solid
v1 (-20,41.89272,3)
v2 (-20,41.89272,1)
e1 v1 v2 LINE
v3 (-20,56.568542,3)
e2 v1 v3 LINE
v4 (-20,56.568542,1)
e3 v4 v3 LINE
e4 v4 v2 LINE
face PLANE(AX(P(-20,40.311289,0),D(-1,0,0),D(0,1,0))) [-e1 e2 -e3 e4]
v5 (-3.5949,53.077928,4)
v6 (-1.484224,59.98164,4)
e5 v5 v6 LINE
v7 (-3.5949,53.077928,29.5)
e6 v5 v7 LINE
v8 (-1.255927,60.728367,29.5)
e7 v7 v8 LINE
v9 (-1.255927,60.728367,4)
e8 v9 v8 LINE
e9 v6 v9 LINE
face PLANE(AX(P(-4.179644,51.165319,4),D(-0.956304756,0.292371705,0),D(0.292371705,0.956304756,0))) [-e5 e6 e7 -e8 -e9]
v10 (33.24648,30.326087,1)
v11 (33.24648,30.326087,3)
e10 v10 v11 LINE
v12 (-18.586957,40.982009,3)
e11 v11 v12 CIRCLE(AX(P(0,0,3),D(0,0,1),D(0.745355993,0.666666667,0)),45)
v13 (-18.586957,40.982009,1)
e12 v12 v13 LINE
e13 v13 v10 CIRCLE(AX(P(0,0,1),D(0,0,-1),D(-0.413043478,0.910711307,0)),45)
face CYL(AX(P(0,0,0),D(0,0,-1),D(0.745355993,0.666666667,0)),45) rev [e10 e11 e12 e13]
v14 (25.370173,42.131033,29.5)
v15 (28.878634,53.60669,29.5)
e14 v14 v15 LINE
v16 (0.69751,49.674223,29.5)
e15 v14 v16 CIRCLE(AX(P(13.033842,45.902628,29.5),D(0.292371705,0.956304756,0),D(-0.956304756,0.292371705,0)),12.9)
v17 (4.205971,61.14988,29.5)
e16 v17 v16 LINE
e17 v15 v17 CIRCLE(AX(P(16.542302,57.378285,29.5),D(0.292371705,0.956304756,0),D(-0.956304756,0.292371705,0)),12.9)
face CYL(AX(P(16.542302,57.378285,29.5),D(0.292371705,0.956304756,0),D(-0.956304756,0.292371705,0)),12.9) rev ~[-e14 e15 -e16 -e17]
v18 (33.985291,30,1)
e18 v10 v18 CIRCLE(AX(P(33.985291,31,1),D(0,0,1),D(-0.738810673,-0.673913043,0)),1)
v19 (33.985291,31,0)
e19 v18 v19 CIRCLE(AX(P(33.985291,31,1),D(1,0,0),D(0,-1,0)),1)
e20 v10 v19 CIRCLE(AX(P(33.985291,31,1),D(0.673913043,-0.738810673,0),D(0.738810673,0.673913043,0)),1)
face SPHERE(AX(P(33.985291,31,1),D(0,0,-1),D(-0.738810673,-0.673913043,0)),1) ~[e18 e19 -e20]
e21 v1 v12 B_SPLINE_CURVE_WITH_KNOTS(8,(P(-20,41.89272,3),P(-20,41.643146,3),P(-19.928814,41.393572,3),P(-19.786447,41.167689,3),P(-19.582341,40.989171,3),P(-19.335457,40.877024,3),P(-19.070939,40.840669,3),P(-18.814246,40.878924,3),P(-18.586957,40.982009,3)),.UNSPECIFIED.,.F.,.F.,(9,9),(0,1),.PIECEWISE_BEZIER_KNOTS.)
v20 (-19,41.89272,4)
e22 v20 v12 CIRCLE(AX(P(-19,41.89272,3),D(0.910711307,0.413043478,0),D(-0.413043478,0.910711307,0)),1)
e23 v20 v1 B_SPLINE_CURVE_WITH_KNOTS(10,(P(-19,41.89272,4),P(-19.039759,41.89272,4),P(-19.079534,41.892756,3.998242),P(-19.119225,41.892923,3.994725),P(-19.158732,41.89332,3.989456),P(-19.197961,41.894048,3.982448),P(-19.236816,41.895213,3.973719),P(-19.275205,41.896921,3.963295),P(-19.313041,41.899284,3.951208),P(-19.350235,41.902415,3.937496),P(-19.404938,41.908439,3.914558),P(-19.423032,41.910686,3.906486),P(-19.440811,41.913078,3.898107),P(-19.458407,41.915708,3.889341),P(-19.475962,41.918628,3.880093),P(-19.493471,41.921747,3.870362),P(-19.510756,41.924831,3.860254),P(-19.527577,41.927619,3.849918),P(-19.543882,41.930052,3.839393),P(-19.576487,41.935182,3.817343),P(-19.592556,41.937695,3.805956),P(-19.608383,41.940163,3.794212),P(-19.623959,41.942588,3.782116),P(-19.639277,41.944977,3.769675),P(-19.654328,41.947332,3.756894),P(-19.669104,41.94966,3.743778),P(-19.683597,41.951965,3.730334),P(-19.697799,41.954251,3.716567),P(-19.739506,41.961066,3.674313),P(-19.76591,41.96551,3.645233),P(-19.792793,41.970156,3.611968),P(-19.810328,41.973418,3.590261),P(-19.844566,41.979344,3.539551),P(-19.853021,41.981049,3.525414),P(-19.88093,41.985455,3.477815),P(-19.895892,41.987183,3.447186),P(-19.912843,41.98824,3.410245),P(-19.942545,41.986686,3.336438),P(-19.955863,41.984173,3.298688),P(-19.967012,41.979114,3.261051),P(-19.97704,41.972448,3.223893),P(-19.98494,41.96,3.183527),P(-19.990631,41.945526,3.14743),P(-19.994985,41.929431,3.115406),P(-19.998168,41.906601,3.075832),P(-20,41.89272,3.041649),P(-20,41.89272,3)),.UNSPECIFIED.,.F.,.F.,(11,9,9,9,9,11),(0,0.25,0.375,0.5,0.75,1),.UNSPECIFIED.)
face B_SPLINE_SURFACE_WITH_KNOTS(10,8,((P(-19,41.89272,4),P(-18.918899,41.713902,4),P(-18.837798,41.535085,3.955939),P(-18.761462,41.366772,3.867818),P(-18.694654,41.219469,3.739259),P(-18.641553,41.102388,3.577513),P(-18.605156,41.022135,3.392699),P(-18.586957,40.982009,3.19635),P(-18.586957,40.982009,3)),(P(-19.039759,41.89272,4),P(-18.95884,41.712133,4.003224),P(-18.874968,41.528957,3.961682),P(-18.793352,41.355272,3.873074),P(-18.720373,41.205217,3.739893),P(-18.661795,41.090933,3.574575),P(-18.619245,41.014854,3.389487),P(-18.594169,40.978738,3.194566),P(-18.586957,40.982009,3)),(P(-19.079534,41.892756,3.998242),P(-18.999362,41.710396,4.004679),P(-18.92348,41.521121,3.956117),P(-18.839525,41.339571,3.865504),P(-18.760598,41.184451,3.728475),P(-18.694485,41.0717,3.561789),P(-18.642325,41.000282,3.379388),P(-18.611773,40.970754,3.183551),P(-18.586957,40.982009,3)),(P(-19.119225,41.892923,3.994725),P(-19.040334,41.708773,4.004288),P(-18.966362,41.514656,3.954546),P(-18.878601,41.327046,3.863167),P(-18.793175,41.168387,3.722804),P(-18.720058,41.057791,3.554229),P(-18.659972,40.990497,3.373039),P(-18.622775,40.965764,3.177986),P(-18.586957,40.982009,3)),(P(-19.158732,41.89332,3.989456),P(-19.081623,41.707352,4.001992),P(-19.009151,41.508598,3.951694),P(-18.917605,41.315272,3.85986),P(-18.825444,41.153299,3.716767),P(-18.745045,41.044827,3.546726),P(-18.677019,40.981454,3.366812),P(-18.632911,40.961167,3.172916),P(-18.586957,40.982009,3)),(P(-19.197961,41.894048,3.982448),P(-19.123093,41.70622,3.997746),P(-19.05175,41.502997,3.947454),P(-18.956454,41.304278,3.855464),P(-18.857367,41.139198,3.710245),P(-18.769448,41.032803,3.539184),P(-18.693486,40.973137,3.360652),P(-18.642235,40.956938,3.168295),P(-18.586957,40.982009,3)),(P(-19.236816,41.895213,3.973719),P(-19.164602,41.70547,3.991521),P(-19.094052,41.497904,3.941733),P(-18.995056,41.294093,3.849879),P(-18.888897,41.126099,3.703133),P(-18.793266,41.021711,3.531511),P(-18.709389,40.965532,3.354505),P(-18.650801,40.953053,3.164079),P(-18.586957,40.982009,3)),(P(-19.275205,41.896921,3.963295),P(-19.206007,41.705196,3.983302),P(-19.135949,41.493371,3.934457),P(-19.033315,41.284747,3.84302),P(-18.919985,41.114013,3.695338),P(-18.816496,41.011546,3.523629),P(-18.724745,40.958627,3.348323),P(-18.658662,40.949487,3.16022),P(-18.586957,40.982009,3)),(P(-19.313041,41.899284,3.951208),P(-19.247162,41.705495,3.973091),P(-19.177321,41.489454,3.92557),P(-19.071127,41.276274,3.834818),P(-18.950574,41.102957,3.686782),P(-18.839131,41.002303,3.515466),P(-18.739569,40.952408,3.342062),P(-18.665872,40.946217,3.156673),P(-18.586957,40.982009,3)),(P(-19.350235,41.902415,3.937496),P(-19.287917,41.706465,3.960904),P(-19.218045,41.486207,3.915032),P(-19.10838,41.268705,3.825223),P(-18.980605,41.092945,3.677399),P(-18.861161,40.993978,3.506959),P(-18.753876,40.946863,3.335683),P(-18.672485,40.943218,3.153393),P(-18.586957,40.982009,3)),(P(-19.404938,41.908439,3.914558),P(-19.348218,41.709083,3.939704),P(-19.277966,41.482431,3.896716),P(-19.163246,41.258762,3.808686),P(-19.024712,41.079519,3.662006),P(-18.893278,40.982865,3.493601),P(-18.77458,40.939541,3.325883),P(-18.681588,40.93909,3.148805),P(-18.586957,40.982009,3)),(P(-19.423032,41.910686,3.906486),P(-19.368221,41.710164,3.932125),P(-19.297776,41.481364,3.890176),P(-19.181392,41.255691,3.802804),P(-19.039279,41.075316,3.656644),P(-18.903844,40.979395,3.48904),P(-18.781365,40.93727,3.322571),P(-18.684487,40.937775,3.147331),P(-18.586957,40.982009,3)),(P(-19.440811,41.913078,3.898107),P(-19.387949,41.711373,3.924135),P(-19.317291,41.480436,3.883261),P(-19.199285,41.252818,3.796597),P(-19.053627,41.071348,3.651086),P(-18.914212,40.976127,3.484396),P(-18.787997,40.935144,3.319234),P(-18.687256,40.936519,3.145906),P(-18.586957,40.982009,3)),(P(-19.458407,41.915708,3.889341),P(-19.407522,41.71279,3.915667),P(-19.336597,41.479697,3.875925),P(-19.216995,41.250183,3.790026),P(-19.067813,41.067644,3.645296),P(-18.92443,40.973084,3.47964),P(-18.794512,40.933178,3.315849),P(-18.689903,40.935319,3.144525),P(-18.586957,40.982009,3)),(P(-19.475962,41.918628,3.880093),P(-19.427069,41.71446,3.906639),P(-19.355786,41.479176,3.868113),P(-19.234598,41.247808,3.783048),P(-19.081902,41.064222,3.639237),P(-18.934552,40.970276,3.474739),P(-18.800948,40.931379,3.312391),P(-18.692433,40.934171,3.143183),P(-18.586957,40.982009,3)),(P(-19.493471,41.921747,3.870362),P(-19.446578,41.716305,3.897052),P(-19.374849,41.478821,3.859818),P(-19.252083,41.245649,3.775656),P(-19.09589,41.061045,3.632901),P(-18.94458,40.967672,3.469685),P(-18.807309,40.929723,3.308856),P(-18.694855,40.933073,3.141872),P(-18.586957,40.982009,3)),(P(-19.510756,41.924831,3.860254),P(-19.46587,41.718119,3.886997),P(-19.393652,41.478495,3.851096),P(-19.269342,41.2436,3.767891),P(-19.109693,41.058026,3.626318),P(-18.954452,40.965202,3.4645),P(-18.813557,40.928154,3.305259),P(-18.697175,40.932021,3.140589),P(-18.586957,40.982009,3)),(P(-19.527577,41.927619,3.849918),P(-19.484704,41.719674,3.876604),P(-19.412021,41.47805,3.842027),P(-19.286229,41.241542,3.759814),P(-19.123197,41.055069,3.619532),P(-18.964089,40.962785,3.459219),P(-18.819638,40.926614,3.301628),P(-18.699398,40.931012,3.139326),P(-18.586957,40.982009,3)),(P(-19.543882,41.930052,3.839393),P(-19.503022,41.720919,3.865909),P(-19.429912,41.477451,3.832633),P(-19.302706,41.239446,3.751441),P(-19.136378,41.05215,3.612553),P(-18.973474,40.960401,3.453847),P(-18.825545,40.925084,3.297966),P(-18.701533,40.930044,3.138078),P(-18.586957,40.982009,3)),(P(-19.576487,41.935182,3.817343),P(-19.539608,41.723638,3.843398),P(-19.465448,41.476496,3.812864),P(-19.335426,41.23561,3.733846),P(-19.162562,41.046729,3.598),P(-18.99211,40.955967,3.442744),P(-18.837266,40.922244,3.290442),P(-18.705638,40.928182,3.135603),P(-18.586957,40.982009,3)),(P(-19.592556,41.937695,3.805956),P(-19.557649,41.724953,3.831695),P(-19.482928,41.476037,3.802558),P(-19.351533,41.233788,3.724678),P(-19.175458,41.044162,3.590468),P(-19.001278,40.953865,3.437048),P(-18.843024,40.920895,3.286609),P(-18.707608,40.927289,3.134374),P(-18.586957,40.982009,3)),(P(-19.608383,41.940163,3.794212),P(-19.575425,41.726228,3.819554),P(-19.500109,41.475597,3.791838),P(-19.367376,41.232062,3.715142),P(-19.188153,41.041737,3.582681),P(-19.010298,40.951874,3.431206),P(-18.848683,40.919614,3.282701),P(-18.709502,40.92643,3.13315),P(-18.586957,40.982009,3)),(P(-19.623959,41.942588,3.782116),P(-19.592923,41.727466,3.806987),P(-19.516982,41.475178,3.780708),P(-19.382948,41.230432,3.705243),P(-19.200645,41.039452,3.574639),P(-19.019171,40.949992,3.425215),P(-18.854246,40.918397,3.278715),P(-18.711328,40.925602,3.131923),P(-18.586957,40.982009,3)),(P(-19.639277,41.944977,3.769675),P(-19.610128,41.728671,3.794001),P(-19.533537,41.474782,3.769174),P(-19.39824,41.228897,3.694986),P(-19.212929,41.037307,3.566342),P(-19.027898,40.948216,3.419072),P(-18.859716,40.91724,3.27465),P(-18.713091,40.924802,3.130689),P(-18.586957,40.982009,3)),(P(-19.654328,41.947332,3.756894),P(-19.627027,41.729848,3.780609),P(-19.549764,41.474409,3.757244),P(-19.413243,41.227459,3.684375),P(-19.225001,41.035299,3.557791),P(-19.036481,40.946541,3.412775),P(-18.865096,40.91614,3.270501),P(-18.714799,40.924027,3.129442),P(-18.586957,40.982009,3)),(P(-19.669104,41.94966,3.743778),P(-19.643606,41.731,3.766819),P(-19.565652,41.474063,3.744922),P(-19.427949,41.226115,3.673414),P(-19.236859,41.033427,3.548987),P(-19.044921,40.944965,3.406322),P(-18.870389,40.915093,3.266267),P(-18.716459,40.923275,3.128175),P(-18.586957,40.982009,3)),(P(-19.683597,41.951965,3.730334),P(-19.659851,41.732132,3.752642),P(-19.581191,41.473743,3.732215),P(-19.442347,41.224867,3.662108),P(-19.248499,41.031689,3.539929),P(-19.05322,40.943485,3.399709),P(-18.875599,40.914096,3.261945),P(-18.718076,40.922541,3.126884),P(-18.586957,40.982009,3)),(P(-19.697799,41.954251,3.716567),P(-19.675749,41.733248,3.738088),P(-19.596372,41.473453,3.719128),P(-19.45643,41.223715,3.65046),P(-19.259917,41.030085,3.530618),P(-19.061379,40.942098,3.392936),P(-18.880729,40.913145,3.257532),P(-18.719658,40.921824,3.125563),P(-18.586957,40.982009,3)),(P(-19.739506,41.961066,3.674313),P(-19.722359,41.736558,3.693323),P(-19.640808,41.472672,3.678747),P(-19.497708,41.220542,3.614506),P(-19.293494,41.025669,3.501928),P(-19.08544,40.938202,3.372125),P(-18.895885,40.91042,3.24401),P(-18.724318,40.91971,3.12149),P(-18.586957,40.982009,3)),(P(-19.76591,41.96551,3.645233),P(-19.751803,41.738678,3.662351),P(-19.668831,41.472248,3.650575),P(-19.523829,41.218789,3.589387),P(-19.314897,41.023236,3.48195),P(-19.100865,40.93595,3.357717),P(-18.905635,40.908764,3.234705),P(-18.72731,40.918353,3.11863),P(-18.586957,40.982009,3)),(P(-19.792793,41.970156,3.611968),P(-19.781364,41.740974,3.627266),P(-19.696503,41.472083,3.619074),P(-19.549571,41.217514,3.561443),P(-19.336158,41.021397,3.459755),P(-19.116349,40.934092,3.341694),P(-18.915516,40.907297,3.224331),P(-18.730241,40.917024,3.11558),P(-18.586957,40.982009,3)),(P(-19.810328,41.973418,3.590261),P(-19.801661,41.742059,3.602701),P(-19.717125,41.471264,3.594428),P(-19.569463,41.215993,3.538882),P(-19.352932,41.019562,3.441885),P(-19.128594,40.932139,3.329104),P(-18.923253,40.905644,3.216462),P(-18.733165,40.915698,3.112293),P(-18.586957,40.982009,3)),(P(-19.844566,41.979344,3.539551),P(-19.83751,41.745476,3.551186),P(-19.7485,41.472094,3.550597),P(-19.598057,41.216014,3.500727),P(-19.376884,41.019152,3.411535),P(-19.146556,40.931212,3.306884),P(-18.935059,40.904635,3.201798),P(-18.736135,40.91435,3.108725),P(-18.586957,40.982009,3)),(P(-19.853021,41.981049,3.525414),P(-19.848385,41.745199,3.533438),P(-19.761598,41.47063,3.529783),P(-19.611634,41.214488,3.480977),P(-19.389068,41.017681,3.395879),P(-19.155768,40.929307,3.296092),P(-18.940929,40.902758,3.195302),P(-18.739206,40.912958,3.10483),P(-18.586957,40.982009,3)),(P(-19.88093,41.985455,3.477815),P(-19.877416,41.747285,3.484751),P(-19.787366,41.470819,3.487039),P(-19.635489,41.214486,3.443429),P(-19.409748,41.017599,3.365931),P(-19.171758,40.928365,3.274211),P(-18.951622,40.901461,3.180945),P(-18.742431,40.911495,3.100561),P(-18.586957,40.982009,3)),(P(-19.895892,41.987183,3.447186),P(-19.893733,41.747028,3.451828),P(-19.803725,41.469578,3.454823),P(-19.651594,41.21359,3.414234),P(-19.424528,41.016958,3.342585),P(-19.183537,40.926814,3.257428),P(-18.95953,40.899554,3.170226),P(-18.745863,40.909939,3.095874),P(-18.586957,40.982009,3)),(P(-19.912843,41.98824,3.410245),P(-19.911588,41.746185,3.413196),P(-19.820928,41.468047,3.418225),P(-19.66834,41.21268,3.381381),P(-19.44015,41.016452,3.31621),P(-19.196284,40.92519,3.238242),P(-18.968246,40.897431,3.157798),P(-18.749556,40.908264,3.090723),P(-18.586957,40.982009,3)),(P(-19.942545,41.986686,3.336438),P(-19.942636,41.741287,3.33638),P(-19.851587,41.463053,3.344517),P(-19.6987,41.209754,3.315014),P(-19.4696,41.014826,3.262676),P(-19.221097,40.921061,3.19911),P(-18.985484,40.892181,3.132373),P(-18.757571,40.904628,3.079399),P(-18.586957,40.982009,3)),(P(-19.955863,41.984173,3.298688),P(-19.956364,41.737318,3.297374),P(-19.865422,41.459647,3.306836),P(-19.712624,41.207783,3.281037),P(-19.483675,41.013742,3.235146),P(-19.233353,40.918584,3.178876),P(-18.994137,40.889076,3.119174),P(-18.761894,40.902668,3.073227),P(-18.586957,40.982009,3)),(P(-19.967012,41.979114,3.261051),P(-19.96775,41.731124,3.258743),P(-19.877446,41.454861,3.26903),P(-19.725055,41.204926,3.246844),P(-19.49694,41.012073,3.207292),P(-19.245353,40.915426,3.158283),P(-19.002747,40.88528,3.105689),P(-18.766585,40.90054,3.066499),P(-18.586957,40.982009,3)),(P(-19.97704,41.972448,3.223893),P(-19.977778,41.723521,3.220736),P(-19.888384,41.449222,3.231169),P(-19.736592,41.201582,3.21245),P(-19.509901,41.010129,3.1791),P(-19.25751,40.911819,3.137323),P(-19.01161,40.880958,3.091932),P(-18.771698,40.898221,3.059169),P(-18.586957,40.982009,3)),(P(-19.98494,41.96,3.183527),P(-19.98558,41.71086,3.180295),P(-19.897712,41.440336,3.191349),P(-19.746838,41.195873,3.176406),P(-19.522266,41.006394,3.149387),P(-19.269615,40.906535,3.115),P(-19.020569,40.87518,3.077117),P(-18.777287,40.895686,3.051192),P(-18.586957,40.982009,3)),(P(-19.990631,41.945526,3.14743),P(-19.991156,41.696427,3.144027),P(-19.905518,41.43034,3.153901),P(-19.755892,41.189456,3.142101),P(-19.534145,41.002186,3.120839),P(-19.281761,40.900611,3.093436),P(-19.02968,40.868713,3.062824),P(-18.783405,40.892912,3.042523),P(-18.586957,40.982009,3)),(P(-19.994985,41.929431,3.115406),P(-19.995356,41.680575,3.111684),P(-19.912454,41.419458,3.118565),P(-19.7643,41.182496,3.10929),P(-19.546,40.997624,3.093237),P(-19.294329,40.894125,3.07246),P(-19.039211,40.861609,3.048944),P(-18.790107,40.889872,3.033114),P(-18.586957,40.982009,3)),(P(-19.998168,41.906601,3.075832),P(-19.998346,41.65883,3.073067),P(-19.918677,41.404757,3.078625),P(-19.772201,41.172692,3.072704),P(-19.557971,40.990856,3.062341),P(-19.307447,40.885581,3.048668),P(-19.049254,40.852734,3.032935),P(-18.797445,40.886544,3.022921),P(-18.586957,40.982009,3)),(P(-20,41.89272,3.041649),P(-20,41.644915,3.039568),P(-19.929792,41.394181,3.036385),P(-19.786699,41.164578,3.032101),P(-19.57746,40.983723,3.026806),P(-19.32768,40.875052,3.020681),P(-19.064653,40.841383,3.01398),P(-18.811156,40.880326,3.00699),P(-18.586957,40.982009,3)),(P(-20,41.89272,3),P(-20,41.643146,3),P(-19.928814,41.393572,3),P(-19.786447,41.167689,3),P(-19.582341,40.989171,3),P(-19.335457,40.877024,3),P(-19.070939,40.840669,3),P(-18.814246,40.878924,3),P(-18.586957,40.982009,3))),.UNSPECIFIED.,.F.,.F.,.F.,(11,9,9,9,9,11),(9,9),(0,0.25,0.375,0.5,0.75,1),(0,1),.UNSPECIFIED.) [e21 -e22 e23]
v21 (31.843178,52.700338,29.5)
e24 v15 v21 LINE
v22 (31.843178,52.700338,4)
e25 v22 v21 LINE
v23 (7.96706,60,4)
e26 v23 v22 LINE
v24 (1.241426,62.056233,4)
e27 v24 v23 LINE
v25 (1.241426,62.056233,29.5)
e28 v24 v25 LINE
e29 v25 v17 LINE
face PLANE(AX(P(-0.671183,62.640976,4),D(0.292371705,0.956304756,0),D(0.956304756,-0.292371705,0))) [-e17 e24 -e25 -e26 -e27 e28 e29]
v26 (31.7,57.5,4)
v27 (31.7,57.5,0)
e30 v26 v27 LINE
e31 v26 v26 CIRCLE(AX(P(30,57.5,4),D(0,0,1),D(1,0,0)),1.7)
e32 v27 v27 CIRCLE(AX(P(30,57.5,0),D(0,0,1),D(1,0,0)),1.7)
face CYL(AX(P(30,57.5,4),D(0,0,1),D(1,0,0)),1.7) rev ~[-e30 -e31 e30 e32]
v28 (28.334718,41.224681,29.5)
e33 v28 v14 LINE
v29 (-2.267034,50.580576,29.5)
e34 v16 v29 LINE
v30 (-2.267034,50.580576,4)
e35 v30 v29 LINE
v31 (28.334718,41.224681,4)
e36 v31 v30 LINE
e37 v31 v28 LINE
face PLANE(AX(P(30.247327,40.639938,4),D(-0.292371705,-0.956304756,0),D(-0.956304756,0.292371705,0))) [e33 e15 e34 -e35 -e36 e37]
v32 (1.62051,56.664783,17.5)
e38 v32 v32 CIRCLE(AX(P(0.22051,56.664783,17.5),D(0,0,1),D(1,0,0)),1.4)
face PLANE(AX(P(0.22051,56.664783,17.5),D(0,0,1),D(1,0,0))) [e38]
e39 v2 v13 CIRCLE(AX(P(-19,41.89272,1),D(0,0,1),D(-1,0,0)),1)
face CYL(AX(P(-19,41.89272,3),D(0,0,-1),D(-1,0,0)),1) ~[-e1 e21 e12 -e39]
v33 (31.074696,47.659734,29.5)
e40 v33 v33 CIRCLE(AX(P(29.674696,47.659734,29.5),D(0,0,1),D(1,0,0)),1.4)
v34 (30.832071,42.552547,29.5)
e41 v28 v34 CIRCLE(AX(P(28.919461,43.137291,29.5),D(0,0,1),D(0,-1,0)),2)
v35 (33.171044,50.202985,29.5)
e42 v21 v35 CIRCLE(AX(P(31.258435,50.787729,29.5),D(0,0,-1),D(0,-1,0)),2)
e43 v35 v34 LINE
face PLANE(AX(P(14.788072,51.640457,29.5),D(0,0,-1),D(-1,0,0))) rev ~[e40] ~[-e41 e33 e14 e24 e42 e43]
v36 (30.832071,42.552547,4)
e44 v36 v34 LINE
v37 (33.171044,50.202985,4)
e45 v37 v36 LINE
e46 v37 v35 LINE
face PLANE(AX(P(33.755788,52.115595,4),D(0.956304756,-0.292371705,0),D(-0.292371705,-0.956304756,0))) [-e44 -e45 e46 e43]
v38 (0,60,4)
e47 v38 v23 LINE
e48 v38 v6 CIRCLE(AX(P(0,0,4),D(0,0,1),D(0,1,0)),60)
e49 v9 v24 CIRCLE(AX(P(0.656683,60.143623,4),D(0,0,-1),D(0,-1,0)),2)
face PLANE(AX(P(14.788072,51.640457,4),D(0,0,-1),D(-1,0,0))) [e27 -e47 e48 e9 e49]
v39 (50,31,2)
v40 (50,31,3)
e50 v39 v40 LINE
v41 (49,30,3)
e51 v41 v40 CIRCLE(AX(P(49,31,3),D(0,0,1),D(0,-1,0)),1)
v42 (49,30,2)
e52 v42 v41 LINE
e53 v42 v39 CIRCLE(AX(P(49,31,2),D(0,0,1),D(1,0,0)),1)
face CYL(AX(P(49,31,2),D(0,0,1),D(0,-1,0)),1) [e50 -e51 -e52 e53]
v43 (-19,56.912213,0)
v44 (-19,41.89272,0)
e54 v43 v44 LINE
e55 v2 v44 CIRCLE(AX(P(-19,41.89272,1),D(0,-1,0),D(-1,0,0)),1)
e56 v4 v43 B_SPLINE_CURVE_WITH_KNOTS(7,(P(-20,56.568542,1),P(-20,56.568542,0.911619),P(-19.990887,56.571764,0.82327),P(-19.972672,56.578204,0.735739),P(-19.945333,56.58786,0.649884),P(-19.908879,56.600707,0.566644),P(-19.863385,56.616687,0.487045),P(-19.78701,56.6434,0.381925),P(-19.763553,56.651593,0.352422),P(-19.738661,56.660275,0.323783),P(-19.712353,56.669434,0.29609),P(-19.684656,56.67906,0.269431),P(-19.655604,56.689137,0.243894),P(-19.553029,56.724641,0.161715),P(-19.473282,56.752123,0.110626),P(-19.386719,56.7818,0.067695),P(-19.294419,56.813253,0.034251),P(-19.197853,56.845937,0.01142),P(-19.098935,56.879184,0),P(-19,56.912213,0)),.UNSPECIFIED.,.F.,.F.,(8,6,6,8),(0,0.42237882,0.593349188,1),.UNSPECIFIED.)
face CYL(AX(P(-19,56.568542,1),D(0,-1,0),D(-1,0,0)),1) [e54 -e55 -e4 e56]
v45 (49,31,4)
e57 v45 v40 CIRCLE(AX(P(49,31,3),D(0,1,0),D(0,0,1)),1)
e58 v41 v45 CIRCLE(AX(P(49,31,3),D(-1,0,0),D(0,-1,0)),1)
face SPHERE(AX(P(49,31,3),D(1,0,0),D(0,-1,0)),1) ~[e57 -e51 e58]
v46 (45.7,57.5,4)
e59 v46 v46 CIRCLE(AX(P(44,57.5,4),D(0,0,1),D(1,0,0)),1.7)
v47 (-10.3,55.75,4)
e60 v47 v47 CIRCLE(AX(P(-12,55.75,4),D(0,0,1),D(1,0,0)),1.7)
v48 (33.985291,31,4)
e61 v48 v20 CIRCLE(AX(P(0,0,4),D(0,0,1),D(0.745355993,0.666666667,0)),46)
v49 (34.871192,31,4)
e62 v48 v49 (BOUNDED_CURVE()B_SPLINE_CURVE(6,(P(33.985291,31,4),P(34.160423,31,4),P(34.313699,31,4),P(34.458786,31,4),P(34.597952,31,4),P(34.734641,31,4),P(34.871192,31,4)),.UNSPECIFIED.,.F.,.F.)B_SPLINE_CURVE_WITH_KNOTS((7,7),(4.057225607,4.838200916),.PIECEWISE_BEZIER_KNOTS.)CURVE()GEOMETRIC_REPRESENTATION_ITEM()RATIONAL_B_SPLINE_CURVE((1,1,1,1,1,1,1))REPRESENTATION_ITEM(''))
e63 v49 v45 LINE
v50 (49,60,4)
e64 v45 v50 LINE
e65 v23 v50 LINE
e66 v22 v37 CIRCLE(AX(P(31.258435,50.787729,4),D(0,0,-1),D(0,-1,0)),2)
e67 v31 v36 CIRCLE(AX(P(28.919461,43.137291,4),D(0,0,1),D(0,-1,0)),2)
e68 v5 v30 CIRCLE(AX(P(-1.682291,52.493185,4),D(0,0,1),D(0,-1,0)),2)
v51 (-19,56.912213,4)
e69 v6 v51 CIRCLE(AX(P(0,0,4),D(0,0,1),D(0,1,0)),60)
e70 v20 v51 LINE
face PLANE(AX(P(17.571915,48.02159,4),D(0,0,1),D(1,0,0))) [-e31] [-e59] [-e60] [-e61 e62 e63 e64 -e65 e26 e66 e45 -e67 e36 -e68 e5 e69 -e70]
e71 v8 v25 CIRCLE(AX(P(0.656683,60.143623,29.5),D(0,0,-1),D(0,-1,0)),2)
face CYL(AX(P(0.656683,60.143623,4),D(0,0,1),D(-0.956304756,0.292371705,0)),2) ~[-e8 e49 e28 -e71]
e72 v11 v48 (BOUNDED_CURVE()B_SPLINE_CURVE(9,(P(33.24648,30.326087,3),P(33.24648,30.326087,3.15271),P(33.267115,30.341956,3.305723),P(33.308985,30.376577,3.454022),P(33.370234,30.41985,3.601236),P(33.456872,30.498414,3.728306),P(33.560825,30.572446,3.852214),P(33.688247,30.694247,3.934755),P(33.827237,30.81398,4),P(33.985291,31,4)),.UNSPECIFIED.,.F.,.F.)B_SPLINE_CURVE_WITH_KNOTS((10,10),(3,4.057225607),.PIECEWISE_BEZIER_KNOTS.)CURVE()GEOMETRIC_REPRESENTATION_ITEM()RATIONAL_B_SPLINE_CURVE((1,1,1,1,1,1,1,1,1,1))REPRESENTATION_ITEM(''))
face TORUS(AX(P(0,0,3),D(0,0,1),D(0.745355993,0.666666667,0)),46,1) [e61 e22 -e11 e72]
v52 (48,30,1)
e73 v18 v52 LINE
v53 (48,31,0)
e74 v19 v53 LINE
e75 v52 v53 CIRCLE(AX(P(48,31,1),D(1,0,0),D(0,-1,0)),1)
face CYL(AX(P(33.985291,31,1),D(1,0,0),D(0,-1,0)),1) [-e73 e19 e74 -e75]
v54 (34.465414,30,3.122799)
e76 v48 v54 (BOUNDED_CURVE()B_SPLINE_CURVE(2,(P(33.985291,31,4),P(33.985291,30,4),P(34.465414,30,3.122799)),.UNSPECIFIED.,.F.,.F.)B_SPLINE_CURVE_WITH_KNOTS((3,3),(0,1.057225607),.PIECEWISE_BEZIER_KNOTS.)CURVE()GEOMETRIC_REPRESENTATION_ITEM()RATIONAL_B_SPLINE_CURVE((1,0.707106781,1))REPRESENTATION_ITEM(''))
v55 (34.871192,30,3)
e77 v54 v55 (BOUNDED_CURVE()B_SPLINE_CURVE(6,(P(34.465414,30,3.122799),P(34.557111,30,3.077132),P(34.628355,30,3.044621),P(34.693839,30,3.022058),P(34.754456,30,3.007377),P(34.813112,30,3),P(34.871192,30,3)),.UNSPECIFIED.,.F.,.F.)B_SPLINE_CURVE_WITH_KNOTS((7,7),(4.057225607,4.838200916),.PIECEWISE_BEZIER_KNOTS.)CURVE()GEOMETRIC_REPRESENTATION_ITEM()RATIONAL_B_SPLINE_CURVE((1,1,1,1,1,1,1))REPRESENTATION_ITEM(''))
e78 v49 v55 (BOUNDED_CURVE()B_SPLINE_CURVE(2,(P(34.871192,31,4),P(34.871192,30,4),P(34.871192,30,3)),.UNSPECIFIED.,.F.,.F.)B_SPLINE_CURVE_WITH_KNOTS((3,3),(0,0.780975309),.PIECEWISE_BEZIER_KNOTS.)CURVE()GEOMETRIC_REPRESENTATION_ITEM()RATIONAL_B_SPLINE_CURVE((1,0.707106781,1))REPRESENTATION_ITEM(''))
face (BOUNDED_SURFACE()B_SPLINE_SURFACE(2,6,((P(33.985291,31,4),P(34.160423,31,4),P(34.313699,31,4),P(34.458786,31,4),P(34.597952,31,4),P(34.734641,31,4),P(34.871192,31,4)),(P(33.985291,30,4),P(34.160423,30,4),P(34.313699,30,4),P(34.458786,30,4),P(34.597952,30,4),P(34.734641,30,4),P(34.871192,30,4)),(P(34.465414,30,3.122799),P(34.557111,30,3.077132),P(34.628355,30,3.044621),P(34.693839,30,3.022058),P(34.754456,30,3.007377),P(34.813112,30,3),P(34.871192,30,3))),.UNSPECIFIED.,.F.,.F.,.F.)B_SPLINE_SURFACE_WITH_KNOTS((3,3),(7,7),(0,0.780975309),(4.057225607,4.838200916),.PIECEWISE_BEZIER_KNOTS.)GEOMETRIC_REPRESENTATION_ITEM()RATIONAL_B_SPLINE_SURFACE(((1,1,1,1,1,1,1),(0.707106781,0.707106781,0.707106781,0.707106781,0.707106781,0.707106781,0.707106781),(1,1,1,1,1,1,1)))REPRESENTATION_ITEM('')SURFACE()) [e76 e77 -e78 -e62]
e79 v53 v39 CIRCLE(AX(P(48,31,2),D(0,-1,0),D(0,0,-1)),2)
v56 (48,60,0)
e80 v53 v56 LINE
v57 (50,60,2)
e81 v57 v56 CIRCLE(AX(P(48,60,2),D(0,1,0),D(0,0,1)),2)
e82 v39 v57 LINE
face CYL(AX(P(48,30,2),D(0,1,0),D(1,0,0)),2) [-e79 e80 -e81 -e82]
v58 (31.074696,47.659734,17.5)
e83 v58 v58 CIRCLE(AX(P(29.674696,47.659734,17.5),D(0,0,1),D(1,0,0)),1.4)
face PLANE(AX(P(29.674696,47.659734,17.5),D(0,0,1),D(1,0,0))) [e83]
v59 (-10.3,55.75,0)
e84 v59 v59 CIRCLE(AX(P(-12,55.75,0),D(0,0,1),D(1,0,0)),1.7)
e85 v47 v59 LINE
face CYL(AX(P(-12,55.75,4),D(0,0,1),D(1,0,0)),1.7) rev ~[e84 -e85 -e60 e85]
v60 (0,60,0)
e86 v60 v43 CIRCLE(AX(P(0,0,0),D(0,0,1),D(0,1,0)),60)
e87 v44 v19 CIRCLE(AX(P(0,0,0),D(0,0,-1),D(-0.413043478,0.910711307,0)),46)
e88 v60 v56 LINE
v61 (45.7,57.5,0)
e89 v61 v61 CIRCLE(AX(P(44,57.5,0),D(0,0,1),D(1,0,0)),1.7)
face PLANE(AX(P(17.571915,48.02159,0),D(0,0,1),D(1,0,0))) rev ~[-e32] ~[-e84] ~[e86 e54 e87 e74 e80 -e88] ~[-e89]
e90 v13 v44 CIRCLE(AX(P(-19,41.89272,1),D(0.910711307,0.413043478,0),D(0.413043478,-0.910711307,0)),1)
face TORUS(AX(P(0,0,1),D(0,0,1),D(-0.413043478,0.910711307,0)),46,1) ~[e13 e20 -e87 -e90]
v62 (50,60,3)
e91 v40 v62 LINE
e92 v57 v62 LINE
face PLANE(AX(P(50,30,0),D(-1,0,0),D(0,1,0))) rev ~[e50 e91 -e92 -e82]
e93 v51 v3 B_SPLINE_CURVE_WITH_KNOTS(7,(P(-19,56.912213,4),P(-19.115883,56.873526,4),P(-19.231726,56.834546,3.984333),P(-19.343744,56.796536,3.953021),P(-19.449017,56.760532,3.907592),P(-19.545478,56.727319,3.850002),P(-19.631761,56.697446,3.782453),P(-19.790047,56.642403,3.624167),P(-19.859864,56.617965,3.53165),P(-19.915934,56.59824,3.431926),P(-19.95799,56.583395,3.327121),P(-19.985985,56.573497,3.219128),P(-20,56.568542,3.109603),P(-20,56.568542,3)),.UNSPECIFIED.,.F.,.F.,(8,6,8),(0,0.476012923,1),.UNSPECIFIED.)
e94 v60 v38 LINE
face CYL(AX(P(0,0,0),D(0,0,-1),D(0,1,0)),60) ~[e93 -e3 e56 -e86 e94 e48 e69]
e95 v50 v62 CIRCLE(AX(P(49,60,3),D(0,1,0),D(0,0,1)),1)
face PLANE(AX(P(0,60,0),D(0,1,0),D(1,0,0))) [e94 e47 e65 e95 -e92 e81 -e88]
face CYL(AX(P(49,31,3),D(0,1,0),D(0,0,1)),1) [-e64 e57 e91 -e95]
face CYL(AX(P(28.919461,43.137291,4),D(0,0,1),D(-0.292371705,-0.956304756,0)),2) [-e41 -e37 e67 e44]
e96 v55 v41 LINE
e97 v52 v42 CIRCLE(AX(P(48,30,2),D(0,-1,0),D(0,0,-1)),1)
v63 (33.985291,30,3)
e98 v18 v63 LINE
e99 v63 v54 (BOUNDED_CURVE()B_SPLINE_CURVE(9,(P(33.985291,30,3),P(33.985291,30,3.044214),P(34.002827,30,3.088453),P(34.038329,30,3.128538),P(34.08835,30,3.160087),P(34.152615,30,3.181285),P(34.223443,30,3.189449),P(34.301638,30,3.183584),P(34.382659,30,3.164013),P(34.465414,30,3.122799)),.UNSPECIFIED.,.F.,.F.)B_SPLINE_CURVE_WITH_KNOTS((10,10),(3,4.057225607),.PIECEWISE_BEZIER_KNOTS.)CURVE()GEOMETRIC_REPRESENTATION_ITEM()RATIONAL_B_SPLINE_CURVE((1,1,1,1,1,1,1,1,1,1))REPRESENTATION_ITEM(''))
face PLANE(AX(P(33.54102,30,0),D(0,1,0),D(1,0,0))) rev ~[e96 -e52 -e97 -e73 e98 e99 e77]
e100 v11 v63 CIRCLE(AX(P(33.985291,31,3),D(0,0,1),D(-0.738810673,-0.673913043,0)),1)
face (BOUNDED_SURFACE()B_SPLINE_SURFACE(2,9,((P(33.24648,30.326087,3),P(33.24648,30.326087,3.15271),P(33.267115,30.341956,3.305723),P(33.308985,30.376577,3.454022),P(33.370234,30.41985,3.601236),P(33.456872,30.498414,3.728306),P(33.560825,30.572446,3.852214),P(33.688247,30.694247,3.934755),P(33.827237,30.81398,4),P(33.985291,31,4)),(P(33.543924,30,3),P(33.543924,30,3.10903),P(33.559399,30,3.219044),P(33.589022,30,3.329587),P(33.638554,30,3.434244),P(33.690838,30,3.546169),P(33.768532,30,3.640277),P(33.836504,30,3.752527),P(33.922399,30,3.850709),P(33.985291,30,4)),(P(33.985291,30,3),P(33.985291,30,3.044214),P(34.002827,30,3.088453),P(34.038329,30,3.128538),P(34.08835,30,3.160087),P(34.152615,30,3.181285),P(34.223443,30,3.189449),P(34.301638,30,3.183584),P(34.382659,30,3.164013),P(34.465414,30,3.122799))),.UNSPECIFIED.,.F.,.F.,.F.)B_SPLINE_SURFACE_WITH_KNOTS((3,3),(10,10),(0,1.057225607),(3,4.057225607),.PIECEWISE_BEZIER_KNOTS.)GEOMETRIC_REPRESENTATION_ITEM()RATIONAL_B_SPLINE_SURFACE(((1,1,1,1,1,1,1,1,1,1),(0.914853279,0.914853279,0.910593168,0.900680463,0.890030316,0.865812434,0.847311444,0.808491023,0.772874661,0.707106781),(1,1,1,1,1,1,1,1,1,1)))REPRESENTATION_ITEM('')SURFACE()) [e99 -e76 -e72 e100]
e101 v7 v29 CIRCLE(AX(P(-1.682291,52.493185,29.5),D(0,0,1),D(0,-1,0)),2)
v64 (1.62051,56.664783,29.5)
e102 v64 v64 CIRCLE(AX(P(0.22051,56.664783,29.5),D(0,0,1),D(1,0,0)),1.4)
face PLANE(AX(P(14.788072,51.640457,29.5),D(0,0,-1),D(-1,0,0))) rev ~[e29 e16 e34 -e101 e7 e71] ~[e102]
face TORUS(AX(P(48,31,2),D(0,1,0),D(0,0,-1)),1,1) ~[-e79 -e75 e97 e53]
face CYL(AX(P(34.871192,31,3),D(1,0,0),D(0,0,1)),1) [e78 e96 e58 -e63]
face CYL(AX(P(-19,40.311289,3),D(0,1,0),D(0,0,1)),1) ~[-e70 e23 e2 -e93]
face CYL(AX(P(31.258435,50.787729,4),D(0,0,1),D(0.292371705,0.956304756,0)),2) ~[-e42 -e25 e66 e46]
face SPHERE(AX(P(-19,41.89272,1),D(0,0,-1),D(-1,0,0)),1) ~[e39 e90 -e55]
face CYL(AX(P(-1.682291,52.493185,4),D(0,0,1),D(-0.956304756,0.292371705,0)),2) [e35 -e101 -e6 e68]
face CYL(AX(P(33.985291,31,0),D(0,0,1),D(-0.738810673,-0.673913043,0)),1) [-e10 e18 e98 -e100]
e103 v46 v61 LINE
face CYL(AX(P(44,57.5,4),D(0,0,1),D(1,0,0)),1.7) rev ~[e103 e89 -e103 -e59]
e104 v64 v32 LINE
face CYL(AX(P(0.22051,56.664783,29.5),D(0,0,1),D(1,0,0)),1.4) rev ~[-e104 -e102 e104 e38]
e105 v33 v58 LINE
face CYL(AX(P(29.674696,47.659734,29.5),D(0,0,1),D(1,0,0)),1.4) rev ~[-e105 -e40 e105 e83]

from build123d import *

# Parameters (mm, degrees)
PAD_DEPTH       = 4
PAD001_DEPTH    = 25.5
SKETCH002_R     = 12.9
POCKET_DEPTH    = 36.8669197108
FILLET_R        = 2
FILLET001_R     = 1
FILLET002_R     = 1
FILLET003_R     = 1
SKETCH003_R     = 1.4
POCKET001_DEPTH = 12
SKETCH004_R     = 1.7
POCKET002_DEPTH = 4.0010001
FILLET004_R     = 2
FILLET005_R     = 1


with BuildPart() as part:
    # Sketch → Pad (new body)
    with BuildSketch(Plane.XY):
        with BuildLine():
            Line((33.5410196625, 30), (50, 30))
            Line((50, 30), (50, 60))
            Line((0, 60), (50, 60))
            ThreePointArc((0, 60), (-10.1461187235, 59.1359135792), (-20, 56.5685424949))
            Line((-20, 40.3112887415), (-20, 56.5685424949))
            ThreePointArc((33.5410196625, 30), (8.5100218715, 44.1880020792), (-20, 40.3112887415))
        make_face()
    extrude(amount=PAD_DEPTH)

    # Sketch001 → Pad001 (new body)
    with BuildSketch(Plane.XY.offset(4)):
        Polygon((-0.671183324, 62.6409760428), (33.7557878907, 52.1155946728), (30.247327434, 40.6399376012), (-4.1796437807, 51.1653189712), align=None)
    extrude(amount=PAD001_DEPTH)

    # Sketch002 → Pocket (cut, through all)
    with BuildSketch(Plane(origin=(17.4568210696, 57.098688906, 0), x_dir=(-0.956304756, 0.2923717047, 0), z_dir=(0.2923717047, 0.956304756, 0))):
        with Locations((0.956304756, 29.5)):
            Circle(SKETCH002_R)
    extrude(amount=-POCKET_DEPTH, mode=Mode.SUBTRACT)

    # Fillet
    fillet_edges = [part.edges().sort_by_distance(p)[0] for p in [
        (50, 45, 0),
    ]]
    fillet(fillet_edges, radius=FILLET_R)

    # Fillet001
    fillet001_edges = [part.edges().sort_by_distance(p)[0] for p in [
        (-20, 48.439916, 4),
    ]]
    fillet(fillet001_edges, radius=FILLET001_R)

    # Fillet002
    fillet002_edges = [part.edges().sort_by_distance(p)[0] for p in [
        (9.054169, 44.079724, 4),
    ]]
    fillet(fillet002_edges, radius=FILLET002_R)

    # Fillet003
    fillet003_edges = [part.edges().sort_by_distance(p)[0] for p in [
        (42.435596, 30, 4),
    ]]
    fillet(fillet003_edges, radius=FILLET003_R)

    # Sketch003 → Pocket001 (cut)
    with BuildSketch(Plane.XY.offset(29.5)):
        with Locations((0.2205096629, 56.6647829722)):
            Circle(SKETCH003_R)
        with Locations((29.6746961465, 47.6597344667)):
            Circle(SKETCH003_R)
    extrude(amount=-POCKET001_DEPTH, mode=Mode.SUBTRACT)

    # Sketch004 → Pocket002 (cut, through all)
    with BuildSketch(Plane.XY.offset(4)):
        with Locations((44, 57.5)):
            Circle(SKETCH004_R)
        with Locations((-12, 55.75)):
            Circle(SKETCH004_R)
        with Locations((30, 57.5)):
            Circle(SKETCH004_R)
    extrude(amount=-POCKET002_DEPTH, mode=Mode.SUBTRACT)

    # Fillet004
    fillet004_edges = [part.edges().sort_by_distance(p)[0] for p in [
        (-0.671183, 62.640976, 16.75),
        (33.755788, 52.115595, 16.75),
        (30.247327, 40.639938, 16.75),
        (-4.179644, 51.165319, 16.75),
    ]]
    fillet(fillet004_edges, radius=FILLET004_R)

    # Fillet005
    fillet005_edges = [part.edges().sort_by_distance(p)[0] for p in [
        (50, 45.5, 4),
    ]]
    fillet(fillet005_edges, radius=FILLET005_R)


solid = part.part
